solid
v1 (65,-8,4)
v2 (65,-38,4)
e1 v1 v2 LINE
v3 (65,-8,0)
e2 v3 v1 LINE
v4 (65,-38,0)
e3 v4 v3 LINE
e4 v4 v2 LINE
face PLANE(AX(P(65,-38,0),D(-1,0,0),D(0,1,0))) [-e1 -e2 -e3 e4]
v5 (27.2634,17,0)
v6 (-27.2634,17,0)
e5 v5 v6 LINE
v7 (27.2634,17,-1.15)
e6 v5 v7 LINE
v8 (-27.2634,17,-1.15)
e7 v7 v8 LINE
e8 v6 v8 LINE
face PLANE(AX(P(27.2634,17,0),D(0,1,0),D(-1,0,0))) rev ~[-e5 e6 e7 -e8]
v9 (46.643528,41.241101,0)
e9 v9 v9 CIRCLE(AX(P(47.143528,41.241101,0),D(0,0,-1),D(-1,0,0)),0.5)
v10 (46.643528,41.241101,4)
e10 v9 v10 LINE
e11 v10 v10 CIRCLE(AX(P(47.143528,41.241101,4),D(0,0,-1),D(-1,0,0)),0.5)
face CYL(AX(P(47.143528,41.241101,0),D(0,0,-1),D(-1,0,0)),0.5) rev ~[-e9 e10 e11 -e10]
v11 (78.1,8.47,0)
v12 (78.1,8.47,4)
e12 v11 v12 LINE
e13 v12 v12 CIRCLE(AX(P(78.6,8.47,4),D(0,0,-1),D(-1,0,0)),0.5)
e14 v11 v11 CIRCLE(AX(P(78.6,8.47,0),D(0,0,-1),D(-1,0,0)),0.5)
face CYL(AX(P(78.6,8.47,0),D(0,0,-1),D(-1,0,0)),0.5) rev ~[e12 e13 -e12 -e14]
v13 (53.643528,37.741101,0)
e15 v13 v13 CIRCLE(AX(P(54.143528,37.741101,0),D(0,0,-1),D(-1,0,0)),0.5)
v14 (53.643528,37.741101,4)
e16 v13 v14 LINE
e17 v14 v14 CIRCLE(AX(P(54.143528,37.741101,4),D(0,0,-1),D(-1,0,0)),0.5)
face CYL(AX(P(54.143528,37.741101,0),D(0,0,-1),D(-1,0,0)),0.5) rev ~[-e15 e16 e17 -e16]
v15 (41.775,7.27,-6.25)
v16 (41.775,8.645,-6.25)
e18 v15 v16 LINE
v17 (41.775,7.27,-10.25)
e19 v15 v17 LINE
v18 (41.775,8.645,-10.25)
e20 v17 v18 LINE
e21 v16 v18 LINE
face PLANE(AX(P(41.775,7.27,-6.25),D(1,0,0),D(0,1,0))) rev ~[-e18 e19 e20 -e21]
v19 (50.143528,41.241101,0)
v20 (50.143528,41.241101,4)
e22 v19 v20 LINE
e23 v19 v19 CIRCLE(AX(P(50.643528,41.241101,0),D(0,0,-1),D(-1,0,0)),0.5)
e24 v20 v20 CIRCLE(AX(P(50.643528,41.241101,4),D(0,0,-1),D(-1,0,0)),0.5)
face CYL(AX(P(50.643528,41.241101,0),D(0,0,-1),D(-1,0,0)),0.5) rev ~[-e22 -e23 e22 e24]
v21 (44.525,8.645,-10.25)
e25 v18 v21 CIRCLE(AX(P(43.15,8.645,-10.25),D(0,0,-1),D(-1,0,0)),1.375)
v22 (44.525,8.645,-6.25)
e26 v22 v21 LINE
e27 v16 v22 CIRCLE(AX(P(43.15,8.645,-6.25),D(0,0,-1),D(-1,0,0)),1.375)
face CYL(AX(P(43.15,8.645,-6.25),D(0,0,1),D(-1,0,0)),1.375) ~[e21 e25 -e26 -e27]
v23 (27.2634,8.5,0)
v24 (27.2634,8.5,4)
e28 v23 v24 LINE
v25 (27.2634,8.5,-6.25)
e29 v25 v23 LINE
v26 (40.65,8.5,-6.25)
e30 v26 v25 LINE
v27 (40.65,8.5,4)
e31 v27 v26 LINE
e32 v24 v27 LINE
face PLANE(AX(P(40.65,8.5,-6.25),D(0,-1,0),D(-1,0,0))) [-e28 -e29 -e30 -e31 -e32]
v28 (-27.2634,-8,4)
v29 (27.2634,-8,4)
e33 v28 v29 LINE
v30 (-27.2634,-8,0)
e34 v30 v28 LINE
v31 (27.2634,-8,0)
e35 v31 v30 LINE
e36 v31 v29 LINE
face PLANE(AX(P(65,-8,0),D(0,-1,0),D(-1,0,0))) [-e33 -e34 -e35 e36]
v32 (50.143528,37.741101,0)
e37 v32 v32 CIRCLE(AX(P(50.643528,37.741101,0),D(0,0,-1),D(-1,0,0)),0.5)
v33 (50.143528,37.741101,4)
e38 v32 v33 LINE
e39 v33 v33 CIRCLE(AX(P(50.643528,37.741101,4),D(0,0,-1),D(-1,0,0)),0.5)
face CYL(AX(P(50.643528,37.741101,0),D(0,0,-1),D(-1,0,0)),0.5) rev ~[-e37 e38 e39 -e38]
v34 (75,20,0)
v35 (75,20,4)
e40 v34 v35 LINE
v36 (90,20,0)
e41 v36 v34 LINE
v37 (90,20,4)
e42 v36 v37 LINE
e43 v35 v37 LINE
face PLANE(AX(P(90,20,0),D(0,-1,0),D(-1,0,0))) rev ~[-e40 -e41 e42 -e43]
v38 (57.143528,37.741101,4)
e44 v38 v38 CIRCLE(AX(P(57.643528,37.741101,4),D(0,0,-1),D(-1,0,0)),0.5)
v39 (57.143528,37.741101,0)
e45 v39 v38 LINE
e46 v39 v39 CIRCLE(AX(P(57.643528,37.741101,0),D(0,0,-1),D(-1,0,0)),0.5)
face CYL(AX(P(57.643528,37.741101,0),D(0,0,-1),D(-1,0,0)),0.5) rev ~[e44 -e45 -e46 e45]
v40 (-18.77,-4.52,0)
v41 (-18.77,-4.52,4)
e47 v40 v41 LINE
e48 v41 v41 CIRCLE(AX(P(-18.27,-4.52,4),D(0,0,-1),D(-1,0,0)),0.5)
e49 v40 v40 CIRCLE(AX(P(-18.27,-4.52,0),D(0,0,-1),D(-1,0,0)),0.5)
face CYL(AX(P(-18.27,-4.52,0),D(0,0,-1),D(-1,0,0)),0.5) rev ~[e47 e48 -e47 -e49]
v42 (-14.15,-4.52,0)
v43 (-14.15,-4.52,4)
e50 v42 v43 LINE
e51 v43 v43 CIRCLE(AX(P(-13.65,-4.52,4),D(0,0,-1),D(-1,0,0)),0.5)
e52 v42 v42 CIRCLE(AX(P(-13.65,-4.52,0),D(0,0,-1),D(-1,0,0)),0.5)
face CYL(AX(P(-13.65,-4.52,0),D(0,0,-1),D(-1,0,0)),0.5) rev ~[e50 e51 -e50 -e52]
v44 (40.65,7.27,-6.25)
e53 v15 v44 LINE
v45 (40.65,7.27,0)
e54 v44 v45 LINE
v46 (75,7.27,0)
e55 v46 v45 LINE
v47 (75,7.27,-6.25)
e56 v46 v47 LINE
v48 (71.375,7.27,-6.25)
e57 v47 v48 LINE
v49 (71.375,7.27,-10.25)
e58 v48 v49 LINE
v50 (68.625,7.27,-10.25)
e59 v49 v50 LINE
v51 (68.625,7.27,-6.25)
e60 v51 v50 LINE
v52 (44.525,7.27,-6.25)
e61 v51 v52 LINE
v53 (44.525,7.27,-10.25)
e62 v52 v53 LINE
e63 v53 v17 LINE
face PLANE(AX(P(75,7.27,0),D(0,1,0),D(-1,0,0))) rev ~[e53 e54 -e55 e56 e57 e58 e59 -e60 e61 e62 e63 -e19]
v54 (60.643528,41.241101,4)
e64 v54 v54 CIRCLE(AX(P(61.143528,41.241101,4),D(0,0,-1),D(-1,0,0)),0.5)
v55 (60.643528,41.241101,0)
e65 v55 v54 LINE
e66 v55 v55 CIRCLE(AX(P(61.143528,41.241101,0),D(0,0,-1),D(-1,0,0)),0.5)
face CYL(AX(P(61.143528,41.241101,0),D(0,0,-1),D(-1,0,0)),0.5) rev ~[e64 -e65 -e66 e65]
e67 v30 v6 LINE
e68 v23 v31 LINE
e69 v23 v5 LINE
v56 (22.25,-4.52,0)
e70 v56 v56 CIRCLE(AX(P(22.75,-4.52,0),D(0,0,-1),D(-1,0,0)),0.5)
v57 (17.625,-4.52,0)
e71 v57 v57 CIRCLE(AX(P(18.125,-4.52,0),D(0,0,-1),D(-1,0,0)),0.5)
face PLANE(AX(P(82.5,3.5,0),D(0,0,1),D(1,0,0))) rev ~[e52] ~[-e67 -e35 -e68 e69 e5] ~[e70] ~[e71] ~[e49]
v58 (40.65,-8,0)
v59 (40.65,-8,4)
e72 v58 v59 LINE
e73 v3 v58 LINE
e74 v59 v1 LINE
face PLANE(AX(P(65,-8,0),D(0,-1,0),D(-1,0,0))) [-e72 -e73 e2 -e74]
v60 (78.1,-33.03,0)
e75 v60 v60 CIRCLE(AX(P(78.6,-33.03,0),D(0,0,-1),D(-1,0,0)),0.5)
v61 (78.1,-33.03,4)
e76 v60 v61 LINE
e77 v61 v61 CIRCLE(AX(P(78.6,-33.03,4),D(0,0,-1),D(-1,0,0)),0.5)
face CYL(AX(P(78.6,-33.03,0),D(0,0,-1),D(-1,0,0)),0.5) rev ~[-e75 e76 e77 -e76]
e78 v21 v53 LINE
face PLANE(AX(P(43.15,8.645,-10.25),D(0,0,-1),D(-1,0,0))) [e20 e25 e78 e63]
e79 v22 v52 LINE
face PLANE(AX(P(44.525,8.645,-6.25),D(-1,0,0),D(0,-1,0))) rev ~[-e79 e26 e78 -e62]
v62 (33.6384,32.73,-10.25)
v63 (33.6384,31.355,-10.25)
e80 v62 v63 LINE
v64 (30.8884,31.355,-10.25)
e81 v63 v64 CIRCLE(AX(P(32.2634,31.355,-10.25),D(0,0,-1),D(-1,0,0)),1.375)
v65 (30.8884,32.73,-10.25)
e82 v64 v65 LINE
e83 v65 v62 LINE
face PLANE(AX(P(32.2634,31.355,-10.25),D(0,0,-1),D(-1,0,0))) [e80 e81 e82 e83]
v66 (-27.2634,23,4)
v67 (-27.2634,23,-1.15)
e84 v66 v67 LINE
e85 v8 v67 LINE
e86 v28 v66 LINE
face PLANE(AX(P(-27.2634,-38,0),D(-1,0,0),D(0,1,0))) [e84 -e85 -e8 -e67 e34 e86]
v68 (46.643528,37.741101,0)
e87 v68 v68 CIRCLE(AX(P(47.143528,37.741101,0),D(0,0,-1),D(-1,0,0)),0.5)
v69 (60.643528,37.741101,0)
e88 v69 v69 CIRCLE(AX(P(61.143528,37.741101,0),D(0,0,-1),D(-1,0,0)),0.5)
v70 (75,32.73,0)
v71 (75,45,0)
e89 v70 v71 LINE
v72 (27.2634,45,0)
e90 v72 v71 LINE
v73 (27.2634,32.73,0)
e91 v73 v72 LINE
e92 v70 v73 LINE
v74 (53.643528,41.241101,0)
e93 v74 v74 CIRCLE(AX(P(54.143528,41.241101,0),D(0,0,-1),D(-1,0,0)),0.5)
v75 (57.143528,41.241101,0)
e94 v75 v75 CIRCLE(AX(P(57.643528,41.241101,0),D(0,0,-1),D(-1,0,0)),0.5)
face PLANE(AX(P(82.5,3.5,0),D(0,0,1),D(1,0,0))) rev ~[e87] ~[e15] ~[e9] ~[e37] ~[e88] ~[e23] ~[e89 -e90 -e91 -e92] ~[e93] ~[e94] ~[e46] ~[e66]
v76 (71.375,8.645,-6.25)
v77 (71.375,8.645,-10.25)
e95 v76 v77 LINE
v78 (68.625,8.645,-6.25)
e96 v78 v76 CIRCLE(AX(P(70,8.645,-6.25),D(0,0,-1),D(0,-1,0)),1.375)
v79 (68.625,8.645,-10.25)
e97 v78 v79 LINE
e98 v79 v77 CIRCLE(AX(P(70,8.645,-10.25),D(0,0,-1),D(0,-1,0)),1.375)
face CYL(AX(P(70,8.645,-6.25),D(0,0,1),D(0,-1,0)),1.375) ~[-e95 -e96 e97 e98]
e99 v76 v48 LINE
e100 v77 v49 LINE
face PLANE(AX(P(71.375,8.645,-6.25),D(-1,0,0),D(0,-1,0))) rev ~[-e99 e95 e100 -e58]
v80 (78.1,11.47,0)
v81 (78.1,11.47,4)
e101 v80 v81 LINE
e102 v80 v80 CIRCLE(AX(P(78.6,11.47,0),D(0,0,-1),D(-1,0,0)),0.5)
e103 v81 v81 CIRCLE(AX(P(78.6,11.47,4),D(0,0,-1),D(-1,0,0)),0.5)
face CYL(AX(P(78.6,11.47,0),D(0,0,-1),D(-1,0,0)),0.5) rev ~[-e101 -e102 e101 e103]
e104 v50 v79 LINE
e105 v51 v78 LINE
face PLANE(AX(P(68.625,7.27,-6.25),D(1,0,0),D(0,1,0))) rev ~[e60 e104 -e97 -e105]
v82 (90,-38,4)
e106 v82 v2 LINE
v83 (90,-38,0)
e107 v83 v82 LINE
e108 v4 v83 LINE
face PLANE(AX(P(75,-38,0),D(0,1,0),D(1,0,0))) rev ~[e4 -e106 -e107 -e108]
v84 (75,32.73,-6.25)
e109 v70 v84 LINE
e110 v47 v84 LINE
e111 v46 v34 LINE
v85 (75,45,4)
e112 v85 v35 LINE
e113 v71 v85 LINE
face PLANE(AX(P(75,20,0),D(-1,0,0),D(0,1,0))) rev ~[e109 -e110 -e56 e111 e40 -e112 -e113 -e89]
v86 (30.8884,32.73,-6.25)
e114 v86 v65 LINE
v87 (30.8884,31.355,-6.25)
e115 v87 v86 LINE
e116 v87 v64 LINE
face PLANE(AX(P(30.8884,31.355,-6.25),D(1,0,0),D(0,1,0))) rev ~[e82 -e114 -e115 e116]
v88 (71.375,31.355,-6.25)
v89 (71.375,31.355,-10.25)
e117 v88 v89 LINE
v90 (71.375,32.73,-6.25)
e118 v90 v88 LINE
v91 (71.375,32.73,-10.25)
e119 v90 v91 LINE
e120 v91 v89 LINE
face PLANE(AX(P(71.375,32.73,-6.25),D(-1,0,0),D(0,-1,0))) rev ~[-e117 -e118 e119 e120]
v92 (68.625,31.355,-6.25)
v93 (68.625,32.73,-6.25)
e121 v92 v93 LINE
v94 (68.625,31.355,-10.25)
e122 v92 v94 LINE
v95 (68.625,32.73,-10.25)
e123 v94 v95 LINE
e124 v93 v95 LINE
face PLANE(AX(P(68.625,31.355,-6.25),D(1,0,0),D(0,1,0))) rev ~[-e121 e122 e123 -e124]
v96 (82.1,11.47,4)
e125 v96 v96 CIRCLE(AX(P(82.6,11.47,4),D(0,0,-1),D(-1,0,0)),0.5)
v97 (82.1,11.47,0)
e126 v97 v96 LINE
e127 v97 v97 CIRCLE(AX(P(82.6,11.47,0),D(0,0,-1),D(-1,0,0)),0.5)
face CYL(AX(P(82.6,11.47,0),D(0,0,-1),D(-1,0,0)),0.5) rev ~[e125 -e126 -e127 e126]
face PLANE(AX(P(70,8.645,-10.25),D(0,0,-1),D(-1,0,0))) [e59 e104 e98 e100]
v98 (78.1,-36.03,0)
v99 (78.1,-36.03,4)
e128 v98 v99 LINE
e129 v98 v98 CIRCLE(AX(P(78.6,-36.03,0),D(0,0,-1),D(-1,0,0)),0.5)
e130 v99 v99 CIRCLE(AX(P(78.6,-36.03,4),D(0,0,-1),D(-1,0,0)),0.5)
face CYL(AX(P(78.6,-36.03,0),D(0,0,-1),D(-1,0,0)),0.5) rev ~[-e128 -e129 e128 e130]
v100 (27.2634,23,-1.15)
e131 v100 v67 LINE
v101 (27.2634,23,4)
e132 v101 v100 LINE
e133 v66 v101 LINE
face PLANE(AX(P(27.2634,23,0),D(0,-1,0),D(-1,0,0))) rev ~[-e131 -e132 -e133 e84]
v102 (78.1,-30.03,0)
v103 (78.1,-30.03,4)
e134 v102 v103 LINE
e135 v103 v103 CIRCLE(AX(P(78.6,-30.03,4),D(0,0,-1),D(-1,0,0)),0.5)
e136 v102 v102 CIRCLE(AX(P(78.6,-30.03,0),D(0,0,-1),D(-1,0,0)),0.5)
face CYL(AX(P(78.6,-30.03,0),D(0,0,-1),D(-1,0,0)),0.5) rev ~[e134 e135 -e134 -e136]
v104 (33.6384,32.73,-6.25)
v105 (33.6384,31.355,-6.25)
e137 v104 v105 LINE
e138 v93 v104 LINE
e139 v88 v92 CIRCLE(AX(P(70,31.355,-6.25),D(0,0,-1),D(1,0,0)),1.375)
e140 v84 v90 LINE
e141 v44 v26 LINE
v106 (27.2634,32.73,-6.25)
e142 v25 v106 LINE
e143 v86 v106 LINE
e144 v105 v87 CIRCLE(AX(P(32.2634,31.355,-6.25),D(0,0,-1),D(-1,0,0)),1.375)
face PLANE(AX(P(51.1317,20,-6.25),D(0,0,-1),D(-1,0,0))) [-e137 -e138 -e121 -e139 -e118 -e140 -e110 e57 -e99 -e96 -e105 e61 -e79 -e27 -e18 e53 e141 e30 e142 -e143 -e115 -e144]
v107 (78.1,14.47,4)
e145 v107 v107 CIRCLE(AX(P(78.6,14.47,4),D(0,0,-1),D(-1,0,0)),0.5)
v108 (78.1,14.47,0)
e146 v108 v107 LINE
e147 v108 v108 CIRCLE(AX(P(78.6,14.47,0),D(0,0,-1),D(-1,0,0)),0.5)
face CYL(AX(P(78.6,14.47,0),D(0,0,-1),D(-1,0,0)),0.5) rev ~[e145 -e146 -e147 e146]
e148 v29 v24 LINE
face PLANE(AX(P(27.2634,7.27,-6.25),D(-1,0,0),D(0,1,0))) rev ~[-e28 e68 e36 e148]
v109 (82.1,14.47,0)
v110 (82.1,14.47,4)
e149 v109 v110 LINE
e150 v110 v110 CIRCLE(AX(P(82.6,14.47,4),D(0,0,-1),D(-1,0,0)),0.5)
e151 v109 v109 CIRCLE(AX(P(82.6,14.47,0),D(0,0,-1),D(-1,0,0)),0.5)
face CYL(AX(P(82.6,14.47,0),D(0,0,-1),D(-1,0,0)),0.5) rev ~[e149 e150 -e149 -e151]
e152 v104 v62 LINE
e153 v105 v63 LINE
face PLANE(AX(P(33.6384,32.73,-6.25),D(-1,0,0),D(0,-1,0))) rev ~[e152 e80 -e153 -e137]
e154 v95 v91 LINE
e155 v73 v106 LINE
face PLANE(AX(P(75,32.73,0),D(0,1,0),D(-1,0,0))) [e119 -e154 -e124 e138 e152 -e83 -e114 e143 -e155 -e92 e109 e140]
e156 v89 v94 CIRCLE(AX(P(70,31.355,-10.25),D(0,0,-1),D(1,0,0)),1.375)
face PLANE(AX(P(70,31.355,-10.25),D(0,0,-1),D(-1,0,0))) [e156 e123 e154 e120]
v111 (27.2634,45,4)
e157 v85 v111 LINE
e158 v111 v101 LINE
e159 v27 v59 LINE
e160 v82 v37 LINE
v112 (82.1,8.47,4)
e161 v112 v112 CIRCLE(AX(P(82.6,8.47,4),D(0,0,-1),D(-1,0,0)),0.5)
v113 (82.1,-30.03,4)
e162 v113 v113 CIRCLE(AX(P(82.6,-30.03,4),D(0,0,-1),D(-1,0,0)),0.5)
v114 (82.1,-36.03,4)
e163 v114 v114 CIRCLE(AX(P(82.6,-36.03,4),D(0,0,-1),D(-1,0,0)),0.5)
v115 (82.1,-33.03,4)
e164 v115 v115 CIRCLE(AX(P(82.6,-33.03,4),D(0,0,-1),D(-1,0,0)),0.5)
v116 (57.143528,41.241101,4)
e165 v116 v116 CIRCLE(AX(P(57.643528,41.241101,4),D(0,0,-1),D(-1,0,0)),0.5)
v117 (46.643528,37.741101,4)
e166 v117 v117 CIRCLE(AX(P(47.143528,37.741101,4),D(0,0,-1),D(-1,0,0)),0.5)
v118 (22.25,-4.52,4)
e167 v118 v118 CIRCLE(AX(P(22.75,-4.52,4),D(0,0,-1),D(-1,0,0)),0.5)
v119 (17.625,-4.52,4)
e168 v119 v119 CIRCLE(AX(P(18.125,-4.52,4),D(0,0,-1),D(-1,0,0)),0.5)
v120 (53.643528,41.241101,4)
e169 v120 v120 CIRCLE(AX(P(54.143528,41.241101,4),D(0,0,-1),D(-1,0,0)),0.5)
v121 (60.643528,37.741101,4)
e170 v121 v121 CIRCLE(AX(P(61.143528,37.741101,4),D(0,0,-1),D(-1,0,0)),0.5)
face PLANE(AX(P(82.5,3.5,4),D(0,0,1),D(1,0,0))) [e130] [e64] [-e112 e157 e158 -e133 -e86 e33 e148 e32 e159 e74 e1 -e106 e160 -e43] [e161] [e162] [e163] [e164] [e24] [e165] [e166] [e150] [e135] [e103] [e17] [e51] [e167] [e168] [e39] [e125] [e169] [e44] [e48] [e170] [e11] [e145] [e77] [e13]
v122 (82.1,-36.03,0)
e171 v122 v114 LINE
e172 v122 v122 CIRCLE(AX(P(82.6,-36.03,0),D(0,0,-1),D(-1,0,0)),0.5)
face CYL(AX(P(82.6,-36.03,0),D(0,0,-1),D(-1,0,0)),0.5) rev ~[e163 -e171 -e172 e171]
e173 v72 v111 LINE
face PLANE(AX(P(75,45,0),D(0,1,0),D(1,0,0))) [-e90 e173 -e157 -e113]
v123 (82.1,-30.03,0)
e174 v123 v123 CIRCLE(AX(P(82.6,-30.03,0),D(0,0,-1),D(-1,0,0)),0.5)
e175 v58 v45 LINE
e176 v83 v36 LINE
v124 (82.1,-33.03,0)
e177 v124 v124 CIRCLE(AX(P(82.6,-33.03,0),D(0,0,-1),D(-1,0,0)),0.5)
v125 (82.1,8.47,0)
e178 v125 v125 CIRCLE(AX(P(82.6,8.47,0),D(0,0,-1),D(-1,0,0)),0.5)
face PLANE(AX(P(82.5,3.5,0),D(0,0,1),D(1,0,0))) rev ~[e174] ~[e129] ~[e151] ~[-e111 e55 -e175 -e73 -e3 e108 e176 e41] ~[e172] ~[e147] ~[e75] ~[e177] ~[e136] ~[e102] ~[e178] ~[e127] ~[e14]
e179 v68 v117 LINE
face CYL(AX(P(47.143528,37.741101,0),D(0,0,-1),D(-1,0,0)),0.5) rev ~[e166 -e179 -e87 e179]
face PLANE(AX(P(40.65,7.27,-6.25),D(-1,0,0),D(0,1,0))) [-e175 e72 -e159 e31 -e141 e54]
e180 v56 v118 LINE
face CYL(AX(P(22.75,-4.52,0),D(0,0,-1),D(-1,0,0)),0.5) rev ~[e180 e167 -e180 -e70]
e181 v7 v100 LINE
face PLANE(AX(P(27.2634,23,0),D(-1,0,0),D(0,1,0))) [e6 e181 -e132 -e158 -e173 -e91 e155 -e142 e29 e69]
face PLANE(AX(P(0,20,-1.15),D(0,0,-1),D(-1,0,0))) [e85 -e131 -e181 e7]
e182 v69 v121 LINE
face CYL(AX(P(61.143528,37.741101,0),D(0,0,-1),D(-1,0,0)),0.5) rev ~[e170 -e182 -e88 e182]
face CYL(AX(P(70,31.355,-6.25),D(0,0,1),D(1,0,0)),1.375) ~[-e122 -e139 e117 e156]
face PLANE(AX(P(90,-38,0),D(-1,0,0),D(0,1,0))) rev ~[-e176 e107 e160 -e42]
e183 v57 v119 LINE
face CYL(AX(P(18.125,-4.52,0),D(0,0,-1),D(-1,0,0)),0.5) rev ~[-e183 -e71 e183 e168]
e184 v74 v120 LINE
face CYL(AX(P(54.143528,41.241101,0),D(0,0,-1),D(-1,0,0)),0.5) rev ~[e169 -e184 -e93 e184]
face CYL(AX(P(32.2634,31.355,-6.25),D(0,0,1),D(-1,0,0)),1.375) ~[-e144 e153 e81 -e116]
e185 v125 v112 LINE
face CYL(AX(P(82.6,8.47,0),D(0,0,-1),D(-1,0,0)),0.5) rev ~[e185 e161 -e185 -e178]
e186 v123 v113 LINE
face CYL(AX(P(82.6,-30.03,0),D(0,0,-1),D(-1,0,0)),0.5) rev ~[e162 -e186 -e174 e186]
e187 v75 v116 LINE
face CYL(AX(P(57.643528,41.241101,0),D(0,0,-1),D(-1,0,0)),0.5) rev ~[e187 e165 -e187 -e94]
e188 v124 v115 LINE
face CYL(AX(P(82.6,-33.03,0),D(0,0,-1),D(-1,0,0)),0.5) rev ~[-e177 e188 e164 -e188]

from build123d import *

# Parameters (mm, degrees)
SKETCH_2_W                       = 102.2634
SKETCH_2_H                       = 83
EXTRUDE_1_DEPTH                  = 4
SKETCH_4_W                       = 54.5268
SKETCH_4_H                       = 6
EXTRUDE_2_DEPTH                  = 1.15
SKETCH_5_W                       = 47.7366
SKETCH_5_H                       = 25.46
EXTRUDE_3_DEPTH                  = 6.25
SKETCH_6_R                       = 1.375
EXTRUDE_4_DEPTH                  = 4
SKETCH_7_W                       = 13.3866
SKETCH_7_H                       = 1.23
CUT_EXTRUDE_1_DEPTH              = 89.062832682
SKETCH_8_W                       = 13.3866
SKETCH_8_H                       = 16.5
CUT_EXTRUDE_3_DEPTH              = 89.062832682
SKETCH_9_W                       = 15
SKETCH_9_H                       = 83
EXTRUDE_5_DEPTH                  = 4
SKETCH_10_R                      = 0.5
CUT_EXTRUDE_4_DEPTH              = 102.143771435
PATTERN_LINEAR_1_COUNT           = 3
PATTERN_LINEAR_1_PITCH           = 3
PATTERN_LINEAR_2_COUNT           = 2
PATTERN_LINEAR_2_PITCH           = 44.5
PATTERN_LINEAR_2_COPY_1_SKETCH_R = 0.5
PATTERN_LINEAR_2_COPY_1_DEPTH    = 102.143771435
PATTERN_LINEAR_2_COPY_2_SKETCH_R = 0.5
PATTERN_LINEAR_2_COPY_2_DEPTH    = 102.143771435
SKETCH_12_R                      = 0.5
CUT_EXTRUDE_5_DEPTH              = 102.143771435
PATTERN_LINEAR_3_COUNT           = 5
PATTERN_LINEAR_3_PITCH           = 3.5
SKETCH_13_R                      = 0.5
CUT_EXTRUDE_6_DEPTH              = 102.143771435
SKETCH_14_W                      = 92.2634
SKETCH_14_H                      = 30
SKETCH_14_W_2                    = 15
SKETCH_14_H_2                    = 25
SKETCH_14_W_3                    = 54.5268
SKETCH_14_H_3                    = 22
CUT_EXTRUDE_7_DEPTH              = 102.143771435


with BuildPart() as part:
    # 草图2 → 凸台-拉伸1 (new body)
    with BuildSketch(Plane.XY):
        with Locations((23.8683, 3.5)):
            Rectangle(SKETCH_2_W, SKETCH_2_H)
    extrude(amount=EXTRUDE_1_DEPTH)

    # 草图4 → 凸台-拉伸2 (add)
    with BuildSketch(Plane(origin=(0, 0, 0), x_dir=(-1, 0, 0), z_dir=(0, 0, -1))):
        with Locations((0, 20)):
            Rectangle(SKETCH_4_W, SKETCH_4_H)
    extrude(amount=EXTRUDE_2_DEPTH)

    # 草图5 → 凸台-拉伸3 (add)
    with BuildSketch(Plane(origin=(0, 0, 0), x_dir=(-1, 0, 0), z_dir=(0, 0, -1))):
        with Locations((-51.1317, 20)):
            Rectangle(SKETCH_5_W, SKETCH_5_H)
    extrude(amount=EXTRUDE_3_DEPTH)

    # 草图6 → 凸台-拉伸4 (add)
    with BuildSketch(Plane(origin=(0, 0, -6.25), x_dir=(-1, 0, 0), z_dir=(0, 0, -1))):
        with Locations((-70, 31.355)):
            Circle(SKETCH_6_R)
        with Locations((-70, 8.645)):
            Circle(SKETCH_6_R)
        with Locations((-43.15, 8.645)):
            Circle(SKETCH_6_R)
        with Locations((-32.2634, 31.355)):
            Circle(SKETCH_6_R)
        with BuildLine():
            Line((-70, 32.73), (-71.375, 32.73))
            Line((-71.375, 32.73), (-71.375, 31.355))
            ThreePointArc((-71.375, 31.355), (-70.972271824, 32.327271824), (-70, 32.73))
        make_face()
        with BuildLine():
            Line((-68.625, 32.73), (-70, 32.73))
            ThreePointArc((-70, 32.73), (-69.027728176, 32.327271824), (-68.625, 31.355))
            Line((-68.625, 31.355), (-68.625, 32.73))
        make_face()
        with BuildLine():
            Line((-30.8884, 31.355), (-30.8884, 32.73))
            Line((-30.8884, 32.73), (-32.2634, 32.73))
            ThreePointArc((-32.2634, 32.73), (-31.291128176, 32.327271824), (-30.8884, 31.355))
        make_face()
        with BuildLine():
            Line((-32.2634, 32.73), (-33.6384, 32.73))
            Line((-33.6384, 32.73), (-33.6384, 31.355))
            ThreePointArc((-33.6384, 31.355), (-33.235671824, 32.327271824), (-32.2634, 32.73))
        make_face()
        with BuildLine():
            ThreePointArc((-70, 7.27), (-70.972271824, 7.672728176), (-71.375, 8.645))
            Line((-71.375, 8.645), (-71.375, 7.27))
            Line((-71.375, 7.27), (-70, 7.27))
        make_face()
        with BuildLine():
            Line((-68.625, 7.27), (-68.625, 8.645))
            ThreePointArc((-68.625, 8.645), (-69.027728176, 7.672728176), (-70, 7.27))
            Line((-70, 7.27), (-68.625, 7.27))
        make_face()
        with BuildLine():
            ThreePointArc((-41.775, 8.645), (-42.177728176, 7.672728176), (-43.15, 7.27))
            Line((-43.15, 7.27), (-41.775, 7.27))
            Line((-41.775, 7.27), (-41.775, 8.645))
        make_face()
        with BuildLine():
            Line((-44.525, 8.645), (-44.525, 7.27))
            Line((-44.525, 7.27), (-43.15, 7.27))
            ThreePointArc((-43.15, 7.27), (-44.122271824, 7.672728176), (-44.525, 8.645))
        make_face()
    extrude(amount=EXTRUDE_4_DEPTH)

    # 草图7 → 切除-拉伸1 (cut, through all)
    with BuildSketch(Plane(origin=(0, 0, -6.25), x_dir=(-1, 0, 0), z_dir=(0, 0, -1))):
        with Locations((-33.9567, 7.885)):
            Rectangle(SKETCH_7_W, SKETCH_7_H)
    extrude(amount=-CUT_EXTRUDE_1_DEPTH, mode=Mode.SUBTRACT)

    # 草图8 → 切除-拉伸3 (cut, through all)
    with BuildSketch(Plane(origin=(0, 0, 0), x_dir=(-1, 0, 0), z_dir=(0, 0, -1))):
        with Locations((-33.9567, 0.25)):
            Rectangle(SKETCH_8_W, SKETCH_8_H)
    extrude(amount=-CUT_EXTRUDE_3_DEPTH, mode=Mode.SUBTRACT)

    # 草图9 → 凸台-拉伸5 (add)
    with BuildSketch(Plane.XY):
        with Locations((82.5, 3.5)):
            Rectangle(SKETCH_9_W, SKETCH_9_H)
    extrude(amount=EXTRUDE_5_DEPTH)

    # 草图10 → 切除-拉伸4 (cut, through all)
    with BuildSketch(Plane(origin=(0, 0, 0), x_dir=(-1, 0, 0), z_dir=(0, 0, -1))):
        with Locations((-78.6, 8.47)):
            Circle(SKETCH_10_R)
        with Locations((-82.6, 8.47)):
            Circle(SKETCH_10_R)
    cut_extrude_4 = extrude(amount=-CUT_EXTRUDE_4_DEPTH, mode=Mode.SUBTRACT)

    # 阵列(线性)1: 切除-拉伸4 ×3
    with Locations(*[(0, i * PATTERN_LINEAR_1_PITCH, 0) for i in range(1, PATTERN_LINEAR_1_COUNT)]):
        add(cut_extrude_4, mode=Mode.SUBTRACT)

    # 阵列(线性)2: 切除-拉伸4 ×2
    with Locations(*[(0, -i * PATTERN_LINEAR_2_PITCH, 0) for i in range(1, PATTERN_LINEAR_2_COUNT)]):
        add(cut_extrude_4, mode=Mode.SUBTRACT)

    # 阵列(线性)2 copy 1 sketch → 阵列(线性)2 copy 1 (cut, through all)
    with BuildSketch(Plane(origin=(0, -41.5, 0), x_dir=(-1, 0, 0), z_dir=(0, 0, -1))):
        with Locations((-78.6, 8.47)):
            Circle(PATTERN_LINEAR_2_COPY_1_SKETCH_R)
        with Locations((-82.6, 8.47)):
            Circle(PATTERN_LINEAR_2_COPY_1_SKETCH_R)
    extrude(amount=-PATTERN_LINEAR_2_COPY_1_DEPTH, mode=Mode.SUBTRACT)

    # 阵列(线性)2 copy 2 sketch → 阵列(线性)2 copy 2 (cut, through all)
    with BuildSketch(Plane(origin=(0, -38.5, 0), x_dir=(-1, 0, 0), z_dir=(0, 0, -1))):
        with Locations((-78.6, 8.47)):
            Circle(PATTERN_LINEAR_2_COPY_2_SKETCH_R)
        with Locations((-82.6, 8.47)):
            Circle(PATTERN_LINEAR_2_COPY_2_SKETCH_R)
    extrude(amount=-PATTERN_LINEAR_2_COPY_2_DEPTH, mode=Mode.SUBTRACT)

    # 草图12 → 切除-拉伸5 (cut, through all)
    with BuildSketch(Plane(origin=(0, 0, 0), x_dir=(-1, 0, 0), z_dir=(0, 0, -1))):
        with Locations((-61.143527556, 41.241100687)):
            Circle(SKETCH_12_R)
        with Locations((-61.143527556, 37.741100687)):
            Circle(SKETCH_12_R)
    cut_extrude_5 = extrude(amount=-CUT_EXTRUDE_5_DEPTH, mode=Mode.SUBTRACT)

    # 阵列(线性)3: 切除-拉伸5 ×5
    with Locations(*[(-i * PATTERN_LINEAR_3_PITCH, 0, 0) for i in range(1, PATTERN_LINEAR_3_COUNT)]):
        add(cut_extrude_5, mode=Mode.SUBTRACT)

    # 草图13 → 切除-拉伸6 (cut, through all)
    with BuildSketch(Plane(origin=(0, 0, 0), x_dir=(-1, 0, 0), z_dir=(0, 0, -1))):
        with Locations((-22.75, -4.52)):
            Circle(SKETCH_13_R)
        with Locations((-18.125, -4.52)):
            Circle(SKETCH_13_R)
        with Locations((13.65, -4.52)):
            Circle(SKETCH_13_R)
        with Locations((18.27, -4.52)):
            Circle(SKETCH_13_R)
    extrude(amount=-CUT_EXTRUDE_6_DEPTH, mode=Mode.SUBTRACT)

    # 草图14 → 切除-拉伸7 (cut, through all)
    with BuildSketch(Plane(origin=(0, 0, 0), x_dir=(-1, 0, 0), z_dir=(0, 0, -1))):
        with Locations((-18.8683, -23)):
            Rectangle(SKETCH_14_W, SKETCH_14_H)
        with Locations((-82.5, 32.5)):
            Rectangle(SKETCH_14_W_2, SKETCH_14_H_2)
        with Locations((0, 34)):
            Rectangle(SKETCH_14_W_3, SKETCH_14_H_3)
    extrude(amount=-CUT_EXTRUDE_7_DEPTH, mode=Mode.SUBTRACT)


solid = part.part
